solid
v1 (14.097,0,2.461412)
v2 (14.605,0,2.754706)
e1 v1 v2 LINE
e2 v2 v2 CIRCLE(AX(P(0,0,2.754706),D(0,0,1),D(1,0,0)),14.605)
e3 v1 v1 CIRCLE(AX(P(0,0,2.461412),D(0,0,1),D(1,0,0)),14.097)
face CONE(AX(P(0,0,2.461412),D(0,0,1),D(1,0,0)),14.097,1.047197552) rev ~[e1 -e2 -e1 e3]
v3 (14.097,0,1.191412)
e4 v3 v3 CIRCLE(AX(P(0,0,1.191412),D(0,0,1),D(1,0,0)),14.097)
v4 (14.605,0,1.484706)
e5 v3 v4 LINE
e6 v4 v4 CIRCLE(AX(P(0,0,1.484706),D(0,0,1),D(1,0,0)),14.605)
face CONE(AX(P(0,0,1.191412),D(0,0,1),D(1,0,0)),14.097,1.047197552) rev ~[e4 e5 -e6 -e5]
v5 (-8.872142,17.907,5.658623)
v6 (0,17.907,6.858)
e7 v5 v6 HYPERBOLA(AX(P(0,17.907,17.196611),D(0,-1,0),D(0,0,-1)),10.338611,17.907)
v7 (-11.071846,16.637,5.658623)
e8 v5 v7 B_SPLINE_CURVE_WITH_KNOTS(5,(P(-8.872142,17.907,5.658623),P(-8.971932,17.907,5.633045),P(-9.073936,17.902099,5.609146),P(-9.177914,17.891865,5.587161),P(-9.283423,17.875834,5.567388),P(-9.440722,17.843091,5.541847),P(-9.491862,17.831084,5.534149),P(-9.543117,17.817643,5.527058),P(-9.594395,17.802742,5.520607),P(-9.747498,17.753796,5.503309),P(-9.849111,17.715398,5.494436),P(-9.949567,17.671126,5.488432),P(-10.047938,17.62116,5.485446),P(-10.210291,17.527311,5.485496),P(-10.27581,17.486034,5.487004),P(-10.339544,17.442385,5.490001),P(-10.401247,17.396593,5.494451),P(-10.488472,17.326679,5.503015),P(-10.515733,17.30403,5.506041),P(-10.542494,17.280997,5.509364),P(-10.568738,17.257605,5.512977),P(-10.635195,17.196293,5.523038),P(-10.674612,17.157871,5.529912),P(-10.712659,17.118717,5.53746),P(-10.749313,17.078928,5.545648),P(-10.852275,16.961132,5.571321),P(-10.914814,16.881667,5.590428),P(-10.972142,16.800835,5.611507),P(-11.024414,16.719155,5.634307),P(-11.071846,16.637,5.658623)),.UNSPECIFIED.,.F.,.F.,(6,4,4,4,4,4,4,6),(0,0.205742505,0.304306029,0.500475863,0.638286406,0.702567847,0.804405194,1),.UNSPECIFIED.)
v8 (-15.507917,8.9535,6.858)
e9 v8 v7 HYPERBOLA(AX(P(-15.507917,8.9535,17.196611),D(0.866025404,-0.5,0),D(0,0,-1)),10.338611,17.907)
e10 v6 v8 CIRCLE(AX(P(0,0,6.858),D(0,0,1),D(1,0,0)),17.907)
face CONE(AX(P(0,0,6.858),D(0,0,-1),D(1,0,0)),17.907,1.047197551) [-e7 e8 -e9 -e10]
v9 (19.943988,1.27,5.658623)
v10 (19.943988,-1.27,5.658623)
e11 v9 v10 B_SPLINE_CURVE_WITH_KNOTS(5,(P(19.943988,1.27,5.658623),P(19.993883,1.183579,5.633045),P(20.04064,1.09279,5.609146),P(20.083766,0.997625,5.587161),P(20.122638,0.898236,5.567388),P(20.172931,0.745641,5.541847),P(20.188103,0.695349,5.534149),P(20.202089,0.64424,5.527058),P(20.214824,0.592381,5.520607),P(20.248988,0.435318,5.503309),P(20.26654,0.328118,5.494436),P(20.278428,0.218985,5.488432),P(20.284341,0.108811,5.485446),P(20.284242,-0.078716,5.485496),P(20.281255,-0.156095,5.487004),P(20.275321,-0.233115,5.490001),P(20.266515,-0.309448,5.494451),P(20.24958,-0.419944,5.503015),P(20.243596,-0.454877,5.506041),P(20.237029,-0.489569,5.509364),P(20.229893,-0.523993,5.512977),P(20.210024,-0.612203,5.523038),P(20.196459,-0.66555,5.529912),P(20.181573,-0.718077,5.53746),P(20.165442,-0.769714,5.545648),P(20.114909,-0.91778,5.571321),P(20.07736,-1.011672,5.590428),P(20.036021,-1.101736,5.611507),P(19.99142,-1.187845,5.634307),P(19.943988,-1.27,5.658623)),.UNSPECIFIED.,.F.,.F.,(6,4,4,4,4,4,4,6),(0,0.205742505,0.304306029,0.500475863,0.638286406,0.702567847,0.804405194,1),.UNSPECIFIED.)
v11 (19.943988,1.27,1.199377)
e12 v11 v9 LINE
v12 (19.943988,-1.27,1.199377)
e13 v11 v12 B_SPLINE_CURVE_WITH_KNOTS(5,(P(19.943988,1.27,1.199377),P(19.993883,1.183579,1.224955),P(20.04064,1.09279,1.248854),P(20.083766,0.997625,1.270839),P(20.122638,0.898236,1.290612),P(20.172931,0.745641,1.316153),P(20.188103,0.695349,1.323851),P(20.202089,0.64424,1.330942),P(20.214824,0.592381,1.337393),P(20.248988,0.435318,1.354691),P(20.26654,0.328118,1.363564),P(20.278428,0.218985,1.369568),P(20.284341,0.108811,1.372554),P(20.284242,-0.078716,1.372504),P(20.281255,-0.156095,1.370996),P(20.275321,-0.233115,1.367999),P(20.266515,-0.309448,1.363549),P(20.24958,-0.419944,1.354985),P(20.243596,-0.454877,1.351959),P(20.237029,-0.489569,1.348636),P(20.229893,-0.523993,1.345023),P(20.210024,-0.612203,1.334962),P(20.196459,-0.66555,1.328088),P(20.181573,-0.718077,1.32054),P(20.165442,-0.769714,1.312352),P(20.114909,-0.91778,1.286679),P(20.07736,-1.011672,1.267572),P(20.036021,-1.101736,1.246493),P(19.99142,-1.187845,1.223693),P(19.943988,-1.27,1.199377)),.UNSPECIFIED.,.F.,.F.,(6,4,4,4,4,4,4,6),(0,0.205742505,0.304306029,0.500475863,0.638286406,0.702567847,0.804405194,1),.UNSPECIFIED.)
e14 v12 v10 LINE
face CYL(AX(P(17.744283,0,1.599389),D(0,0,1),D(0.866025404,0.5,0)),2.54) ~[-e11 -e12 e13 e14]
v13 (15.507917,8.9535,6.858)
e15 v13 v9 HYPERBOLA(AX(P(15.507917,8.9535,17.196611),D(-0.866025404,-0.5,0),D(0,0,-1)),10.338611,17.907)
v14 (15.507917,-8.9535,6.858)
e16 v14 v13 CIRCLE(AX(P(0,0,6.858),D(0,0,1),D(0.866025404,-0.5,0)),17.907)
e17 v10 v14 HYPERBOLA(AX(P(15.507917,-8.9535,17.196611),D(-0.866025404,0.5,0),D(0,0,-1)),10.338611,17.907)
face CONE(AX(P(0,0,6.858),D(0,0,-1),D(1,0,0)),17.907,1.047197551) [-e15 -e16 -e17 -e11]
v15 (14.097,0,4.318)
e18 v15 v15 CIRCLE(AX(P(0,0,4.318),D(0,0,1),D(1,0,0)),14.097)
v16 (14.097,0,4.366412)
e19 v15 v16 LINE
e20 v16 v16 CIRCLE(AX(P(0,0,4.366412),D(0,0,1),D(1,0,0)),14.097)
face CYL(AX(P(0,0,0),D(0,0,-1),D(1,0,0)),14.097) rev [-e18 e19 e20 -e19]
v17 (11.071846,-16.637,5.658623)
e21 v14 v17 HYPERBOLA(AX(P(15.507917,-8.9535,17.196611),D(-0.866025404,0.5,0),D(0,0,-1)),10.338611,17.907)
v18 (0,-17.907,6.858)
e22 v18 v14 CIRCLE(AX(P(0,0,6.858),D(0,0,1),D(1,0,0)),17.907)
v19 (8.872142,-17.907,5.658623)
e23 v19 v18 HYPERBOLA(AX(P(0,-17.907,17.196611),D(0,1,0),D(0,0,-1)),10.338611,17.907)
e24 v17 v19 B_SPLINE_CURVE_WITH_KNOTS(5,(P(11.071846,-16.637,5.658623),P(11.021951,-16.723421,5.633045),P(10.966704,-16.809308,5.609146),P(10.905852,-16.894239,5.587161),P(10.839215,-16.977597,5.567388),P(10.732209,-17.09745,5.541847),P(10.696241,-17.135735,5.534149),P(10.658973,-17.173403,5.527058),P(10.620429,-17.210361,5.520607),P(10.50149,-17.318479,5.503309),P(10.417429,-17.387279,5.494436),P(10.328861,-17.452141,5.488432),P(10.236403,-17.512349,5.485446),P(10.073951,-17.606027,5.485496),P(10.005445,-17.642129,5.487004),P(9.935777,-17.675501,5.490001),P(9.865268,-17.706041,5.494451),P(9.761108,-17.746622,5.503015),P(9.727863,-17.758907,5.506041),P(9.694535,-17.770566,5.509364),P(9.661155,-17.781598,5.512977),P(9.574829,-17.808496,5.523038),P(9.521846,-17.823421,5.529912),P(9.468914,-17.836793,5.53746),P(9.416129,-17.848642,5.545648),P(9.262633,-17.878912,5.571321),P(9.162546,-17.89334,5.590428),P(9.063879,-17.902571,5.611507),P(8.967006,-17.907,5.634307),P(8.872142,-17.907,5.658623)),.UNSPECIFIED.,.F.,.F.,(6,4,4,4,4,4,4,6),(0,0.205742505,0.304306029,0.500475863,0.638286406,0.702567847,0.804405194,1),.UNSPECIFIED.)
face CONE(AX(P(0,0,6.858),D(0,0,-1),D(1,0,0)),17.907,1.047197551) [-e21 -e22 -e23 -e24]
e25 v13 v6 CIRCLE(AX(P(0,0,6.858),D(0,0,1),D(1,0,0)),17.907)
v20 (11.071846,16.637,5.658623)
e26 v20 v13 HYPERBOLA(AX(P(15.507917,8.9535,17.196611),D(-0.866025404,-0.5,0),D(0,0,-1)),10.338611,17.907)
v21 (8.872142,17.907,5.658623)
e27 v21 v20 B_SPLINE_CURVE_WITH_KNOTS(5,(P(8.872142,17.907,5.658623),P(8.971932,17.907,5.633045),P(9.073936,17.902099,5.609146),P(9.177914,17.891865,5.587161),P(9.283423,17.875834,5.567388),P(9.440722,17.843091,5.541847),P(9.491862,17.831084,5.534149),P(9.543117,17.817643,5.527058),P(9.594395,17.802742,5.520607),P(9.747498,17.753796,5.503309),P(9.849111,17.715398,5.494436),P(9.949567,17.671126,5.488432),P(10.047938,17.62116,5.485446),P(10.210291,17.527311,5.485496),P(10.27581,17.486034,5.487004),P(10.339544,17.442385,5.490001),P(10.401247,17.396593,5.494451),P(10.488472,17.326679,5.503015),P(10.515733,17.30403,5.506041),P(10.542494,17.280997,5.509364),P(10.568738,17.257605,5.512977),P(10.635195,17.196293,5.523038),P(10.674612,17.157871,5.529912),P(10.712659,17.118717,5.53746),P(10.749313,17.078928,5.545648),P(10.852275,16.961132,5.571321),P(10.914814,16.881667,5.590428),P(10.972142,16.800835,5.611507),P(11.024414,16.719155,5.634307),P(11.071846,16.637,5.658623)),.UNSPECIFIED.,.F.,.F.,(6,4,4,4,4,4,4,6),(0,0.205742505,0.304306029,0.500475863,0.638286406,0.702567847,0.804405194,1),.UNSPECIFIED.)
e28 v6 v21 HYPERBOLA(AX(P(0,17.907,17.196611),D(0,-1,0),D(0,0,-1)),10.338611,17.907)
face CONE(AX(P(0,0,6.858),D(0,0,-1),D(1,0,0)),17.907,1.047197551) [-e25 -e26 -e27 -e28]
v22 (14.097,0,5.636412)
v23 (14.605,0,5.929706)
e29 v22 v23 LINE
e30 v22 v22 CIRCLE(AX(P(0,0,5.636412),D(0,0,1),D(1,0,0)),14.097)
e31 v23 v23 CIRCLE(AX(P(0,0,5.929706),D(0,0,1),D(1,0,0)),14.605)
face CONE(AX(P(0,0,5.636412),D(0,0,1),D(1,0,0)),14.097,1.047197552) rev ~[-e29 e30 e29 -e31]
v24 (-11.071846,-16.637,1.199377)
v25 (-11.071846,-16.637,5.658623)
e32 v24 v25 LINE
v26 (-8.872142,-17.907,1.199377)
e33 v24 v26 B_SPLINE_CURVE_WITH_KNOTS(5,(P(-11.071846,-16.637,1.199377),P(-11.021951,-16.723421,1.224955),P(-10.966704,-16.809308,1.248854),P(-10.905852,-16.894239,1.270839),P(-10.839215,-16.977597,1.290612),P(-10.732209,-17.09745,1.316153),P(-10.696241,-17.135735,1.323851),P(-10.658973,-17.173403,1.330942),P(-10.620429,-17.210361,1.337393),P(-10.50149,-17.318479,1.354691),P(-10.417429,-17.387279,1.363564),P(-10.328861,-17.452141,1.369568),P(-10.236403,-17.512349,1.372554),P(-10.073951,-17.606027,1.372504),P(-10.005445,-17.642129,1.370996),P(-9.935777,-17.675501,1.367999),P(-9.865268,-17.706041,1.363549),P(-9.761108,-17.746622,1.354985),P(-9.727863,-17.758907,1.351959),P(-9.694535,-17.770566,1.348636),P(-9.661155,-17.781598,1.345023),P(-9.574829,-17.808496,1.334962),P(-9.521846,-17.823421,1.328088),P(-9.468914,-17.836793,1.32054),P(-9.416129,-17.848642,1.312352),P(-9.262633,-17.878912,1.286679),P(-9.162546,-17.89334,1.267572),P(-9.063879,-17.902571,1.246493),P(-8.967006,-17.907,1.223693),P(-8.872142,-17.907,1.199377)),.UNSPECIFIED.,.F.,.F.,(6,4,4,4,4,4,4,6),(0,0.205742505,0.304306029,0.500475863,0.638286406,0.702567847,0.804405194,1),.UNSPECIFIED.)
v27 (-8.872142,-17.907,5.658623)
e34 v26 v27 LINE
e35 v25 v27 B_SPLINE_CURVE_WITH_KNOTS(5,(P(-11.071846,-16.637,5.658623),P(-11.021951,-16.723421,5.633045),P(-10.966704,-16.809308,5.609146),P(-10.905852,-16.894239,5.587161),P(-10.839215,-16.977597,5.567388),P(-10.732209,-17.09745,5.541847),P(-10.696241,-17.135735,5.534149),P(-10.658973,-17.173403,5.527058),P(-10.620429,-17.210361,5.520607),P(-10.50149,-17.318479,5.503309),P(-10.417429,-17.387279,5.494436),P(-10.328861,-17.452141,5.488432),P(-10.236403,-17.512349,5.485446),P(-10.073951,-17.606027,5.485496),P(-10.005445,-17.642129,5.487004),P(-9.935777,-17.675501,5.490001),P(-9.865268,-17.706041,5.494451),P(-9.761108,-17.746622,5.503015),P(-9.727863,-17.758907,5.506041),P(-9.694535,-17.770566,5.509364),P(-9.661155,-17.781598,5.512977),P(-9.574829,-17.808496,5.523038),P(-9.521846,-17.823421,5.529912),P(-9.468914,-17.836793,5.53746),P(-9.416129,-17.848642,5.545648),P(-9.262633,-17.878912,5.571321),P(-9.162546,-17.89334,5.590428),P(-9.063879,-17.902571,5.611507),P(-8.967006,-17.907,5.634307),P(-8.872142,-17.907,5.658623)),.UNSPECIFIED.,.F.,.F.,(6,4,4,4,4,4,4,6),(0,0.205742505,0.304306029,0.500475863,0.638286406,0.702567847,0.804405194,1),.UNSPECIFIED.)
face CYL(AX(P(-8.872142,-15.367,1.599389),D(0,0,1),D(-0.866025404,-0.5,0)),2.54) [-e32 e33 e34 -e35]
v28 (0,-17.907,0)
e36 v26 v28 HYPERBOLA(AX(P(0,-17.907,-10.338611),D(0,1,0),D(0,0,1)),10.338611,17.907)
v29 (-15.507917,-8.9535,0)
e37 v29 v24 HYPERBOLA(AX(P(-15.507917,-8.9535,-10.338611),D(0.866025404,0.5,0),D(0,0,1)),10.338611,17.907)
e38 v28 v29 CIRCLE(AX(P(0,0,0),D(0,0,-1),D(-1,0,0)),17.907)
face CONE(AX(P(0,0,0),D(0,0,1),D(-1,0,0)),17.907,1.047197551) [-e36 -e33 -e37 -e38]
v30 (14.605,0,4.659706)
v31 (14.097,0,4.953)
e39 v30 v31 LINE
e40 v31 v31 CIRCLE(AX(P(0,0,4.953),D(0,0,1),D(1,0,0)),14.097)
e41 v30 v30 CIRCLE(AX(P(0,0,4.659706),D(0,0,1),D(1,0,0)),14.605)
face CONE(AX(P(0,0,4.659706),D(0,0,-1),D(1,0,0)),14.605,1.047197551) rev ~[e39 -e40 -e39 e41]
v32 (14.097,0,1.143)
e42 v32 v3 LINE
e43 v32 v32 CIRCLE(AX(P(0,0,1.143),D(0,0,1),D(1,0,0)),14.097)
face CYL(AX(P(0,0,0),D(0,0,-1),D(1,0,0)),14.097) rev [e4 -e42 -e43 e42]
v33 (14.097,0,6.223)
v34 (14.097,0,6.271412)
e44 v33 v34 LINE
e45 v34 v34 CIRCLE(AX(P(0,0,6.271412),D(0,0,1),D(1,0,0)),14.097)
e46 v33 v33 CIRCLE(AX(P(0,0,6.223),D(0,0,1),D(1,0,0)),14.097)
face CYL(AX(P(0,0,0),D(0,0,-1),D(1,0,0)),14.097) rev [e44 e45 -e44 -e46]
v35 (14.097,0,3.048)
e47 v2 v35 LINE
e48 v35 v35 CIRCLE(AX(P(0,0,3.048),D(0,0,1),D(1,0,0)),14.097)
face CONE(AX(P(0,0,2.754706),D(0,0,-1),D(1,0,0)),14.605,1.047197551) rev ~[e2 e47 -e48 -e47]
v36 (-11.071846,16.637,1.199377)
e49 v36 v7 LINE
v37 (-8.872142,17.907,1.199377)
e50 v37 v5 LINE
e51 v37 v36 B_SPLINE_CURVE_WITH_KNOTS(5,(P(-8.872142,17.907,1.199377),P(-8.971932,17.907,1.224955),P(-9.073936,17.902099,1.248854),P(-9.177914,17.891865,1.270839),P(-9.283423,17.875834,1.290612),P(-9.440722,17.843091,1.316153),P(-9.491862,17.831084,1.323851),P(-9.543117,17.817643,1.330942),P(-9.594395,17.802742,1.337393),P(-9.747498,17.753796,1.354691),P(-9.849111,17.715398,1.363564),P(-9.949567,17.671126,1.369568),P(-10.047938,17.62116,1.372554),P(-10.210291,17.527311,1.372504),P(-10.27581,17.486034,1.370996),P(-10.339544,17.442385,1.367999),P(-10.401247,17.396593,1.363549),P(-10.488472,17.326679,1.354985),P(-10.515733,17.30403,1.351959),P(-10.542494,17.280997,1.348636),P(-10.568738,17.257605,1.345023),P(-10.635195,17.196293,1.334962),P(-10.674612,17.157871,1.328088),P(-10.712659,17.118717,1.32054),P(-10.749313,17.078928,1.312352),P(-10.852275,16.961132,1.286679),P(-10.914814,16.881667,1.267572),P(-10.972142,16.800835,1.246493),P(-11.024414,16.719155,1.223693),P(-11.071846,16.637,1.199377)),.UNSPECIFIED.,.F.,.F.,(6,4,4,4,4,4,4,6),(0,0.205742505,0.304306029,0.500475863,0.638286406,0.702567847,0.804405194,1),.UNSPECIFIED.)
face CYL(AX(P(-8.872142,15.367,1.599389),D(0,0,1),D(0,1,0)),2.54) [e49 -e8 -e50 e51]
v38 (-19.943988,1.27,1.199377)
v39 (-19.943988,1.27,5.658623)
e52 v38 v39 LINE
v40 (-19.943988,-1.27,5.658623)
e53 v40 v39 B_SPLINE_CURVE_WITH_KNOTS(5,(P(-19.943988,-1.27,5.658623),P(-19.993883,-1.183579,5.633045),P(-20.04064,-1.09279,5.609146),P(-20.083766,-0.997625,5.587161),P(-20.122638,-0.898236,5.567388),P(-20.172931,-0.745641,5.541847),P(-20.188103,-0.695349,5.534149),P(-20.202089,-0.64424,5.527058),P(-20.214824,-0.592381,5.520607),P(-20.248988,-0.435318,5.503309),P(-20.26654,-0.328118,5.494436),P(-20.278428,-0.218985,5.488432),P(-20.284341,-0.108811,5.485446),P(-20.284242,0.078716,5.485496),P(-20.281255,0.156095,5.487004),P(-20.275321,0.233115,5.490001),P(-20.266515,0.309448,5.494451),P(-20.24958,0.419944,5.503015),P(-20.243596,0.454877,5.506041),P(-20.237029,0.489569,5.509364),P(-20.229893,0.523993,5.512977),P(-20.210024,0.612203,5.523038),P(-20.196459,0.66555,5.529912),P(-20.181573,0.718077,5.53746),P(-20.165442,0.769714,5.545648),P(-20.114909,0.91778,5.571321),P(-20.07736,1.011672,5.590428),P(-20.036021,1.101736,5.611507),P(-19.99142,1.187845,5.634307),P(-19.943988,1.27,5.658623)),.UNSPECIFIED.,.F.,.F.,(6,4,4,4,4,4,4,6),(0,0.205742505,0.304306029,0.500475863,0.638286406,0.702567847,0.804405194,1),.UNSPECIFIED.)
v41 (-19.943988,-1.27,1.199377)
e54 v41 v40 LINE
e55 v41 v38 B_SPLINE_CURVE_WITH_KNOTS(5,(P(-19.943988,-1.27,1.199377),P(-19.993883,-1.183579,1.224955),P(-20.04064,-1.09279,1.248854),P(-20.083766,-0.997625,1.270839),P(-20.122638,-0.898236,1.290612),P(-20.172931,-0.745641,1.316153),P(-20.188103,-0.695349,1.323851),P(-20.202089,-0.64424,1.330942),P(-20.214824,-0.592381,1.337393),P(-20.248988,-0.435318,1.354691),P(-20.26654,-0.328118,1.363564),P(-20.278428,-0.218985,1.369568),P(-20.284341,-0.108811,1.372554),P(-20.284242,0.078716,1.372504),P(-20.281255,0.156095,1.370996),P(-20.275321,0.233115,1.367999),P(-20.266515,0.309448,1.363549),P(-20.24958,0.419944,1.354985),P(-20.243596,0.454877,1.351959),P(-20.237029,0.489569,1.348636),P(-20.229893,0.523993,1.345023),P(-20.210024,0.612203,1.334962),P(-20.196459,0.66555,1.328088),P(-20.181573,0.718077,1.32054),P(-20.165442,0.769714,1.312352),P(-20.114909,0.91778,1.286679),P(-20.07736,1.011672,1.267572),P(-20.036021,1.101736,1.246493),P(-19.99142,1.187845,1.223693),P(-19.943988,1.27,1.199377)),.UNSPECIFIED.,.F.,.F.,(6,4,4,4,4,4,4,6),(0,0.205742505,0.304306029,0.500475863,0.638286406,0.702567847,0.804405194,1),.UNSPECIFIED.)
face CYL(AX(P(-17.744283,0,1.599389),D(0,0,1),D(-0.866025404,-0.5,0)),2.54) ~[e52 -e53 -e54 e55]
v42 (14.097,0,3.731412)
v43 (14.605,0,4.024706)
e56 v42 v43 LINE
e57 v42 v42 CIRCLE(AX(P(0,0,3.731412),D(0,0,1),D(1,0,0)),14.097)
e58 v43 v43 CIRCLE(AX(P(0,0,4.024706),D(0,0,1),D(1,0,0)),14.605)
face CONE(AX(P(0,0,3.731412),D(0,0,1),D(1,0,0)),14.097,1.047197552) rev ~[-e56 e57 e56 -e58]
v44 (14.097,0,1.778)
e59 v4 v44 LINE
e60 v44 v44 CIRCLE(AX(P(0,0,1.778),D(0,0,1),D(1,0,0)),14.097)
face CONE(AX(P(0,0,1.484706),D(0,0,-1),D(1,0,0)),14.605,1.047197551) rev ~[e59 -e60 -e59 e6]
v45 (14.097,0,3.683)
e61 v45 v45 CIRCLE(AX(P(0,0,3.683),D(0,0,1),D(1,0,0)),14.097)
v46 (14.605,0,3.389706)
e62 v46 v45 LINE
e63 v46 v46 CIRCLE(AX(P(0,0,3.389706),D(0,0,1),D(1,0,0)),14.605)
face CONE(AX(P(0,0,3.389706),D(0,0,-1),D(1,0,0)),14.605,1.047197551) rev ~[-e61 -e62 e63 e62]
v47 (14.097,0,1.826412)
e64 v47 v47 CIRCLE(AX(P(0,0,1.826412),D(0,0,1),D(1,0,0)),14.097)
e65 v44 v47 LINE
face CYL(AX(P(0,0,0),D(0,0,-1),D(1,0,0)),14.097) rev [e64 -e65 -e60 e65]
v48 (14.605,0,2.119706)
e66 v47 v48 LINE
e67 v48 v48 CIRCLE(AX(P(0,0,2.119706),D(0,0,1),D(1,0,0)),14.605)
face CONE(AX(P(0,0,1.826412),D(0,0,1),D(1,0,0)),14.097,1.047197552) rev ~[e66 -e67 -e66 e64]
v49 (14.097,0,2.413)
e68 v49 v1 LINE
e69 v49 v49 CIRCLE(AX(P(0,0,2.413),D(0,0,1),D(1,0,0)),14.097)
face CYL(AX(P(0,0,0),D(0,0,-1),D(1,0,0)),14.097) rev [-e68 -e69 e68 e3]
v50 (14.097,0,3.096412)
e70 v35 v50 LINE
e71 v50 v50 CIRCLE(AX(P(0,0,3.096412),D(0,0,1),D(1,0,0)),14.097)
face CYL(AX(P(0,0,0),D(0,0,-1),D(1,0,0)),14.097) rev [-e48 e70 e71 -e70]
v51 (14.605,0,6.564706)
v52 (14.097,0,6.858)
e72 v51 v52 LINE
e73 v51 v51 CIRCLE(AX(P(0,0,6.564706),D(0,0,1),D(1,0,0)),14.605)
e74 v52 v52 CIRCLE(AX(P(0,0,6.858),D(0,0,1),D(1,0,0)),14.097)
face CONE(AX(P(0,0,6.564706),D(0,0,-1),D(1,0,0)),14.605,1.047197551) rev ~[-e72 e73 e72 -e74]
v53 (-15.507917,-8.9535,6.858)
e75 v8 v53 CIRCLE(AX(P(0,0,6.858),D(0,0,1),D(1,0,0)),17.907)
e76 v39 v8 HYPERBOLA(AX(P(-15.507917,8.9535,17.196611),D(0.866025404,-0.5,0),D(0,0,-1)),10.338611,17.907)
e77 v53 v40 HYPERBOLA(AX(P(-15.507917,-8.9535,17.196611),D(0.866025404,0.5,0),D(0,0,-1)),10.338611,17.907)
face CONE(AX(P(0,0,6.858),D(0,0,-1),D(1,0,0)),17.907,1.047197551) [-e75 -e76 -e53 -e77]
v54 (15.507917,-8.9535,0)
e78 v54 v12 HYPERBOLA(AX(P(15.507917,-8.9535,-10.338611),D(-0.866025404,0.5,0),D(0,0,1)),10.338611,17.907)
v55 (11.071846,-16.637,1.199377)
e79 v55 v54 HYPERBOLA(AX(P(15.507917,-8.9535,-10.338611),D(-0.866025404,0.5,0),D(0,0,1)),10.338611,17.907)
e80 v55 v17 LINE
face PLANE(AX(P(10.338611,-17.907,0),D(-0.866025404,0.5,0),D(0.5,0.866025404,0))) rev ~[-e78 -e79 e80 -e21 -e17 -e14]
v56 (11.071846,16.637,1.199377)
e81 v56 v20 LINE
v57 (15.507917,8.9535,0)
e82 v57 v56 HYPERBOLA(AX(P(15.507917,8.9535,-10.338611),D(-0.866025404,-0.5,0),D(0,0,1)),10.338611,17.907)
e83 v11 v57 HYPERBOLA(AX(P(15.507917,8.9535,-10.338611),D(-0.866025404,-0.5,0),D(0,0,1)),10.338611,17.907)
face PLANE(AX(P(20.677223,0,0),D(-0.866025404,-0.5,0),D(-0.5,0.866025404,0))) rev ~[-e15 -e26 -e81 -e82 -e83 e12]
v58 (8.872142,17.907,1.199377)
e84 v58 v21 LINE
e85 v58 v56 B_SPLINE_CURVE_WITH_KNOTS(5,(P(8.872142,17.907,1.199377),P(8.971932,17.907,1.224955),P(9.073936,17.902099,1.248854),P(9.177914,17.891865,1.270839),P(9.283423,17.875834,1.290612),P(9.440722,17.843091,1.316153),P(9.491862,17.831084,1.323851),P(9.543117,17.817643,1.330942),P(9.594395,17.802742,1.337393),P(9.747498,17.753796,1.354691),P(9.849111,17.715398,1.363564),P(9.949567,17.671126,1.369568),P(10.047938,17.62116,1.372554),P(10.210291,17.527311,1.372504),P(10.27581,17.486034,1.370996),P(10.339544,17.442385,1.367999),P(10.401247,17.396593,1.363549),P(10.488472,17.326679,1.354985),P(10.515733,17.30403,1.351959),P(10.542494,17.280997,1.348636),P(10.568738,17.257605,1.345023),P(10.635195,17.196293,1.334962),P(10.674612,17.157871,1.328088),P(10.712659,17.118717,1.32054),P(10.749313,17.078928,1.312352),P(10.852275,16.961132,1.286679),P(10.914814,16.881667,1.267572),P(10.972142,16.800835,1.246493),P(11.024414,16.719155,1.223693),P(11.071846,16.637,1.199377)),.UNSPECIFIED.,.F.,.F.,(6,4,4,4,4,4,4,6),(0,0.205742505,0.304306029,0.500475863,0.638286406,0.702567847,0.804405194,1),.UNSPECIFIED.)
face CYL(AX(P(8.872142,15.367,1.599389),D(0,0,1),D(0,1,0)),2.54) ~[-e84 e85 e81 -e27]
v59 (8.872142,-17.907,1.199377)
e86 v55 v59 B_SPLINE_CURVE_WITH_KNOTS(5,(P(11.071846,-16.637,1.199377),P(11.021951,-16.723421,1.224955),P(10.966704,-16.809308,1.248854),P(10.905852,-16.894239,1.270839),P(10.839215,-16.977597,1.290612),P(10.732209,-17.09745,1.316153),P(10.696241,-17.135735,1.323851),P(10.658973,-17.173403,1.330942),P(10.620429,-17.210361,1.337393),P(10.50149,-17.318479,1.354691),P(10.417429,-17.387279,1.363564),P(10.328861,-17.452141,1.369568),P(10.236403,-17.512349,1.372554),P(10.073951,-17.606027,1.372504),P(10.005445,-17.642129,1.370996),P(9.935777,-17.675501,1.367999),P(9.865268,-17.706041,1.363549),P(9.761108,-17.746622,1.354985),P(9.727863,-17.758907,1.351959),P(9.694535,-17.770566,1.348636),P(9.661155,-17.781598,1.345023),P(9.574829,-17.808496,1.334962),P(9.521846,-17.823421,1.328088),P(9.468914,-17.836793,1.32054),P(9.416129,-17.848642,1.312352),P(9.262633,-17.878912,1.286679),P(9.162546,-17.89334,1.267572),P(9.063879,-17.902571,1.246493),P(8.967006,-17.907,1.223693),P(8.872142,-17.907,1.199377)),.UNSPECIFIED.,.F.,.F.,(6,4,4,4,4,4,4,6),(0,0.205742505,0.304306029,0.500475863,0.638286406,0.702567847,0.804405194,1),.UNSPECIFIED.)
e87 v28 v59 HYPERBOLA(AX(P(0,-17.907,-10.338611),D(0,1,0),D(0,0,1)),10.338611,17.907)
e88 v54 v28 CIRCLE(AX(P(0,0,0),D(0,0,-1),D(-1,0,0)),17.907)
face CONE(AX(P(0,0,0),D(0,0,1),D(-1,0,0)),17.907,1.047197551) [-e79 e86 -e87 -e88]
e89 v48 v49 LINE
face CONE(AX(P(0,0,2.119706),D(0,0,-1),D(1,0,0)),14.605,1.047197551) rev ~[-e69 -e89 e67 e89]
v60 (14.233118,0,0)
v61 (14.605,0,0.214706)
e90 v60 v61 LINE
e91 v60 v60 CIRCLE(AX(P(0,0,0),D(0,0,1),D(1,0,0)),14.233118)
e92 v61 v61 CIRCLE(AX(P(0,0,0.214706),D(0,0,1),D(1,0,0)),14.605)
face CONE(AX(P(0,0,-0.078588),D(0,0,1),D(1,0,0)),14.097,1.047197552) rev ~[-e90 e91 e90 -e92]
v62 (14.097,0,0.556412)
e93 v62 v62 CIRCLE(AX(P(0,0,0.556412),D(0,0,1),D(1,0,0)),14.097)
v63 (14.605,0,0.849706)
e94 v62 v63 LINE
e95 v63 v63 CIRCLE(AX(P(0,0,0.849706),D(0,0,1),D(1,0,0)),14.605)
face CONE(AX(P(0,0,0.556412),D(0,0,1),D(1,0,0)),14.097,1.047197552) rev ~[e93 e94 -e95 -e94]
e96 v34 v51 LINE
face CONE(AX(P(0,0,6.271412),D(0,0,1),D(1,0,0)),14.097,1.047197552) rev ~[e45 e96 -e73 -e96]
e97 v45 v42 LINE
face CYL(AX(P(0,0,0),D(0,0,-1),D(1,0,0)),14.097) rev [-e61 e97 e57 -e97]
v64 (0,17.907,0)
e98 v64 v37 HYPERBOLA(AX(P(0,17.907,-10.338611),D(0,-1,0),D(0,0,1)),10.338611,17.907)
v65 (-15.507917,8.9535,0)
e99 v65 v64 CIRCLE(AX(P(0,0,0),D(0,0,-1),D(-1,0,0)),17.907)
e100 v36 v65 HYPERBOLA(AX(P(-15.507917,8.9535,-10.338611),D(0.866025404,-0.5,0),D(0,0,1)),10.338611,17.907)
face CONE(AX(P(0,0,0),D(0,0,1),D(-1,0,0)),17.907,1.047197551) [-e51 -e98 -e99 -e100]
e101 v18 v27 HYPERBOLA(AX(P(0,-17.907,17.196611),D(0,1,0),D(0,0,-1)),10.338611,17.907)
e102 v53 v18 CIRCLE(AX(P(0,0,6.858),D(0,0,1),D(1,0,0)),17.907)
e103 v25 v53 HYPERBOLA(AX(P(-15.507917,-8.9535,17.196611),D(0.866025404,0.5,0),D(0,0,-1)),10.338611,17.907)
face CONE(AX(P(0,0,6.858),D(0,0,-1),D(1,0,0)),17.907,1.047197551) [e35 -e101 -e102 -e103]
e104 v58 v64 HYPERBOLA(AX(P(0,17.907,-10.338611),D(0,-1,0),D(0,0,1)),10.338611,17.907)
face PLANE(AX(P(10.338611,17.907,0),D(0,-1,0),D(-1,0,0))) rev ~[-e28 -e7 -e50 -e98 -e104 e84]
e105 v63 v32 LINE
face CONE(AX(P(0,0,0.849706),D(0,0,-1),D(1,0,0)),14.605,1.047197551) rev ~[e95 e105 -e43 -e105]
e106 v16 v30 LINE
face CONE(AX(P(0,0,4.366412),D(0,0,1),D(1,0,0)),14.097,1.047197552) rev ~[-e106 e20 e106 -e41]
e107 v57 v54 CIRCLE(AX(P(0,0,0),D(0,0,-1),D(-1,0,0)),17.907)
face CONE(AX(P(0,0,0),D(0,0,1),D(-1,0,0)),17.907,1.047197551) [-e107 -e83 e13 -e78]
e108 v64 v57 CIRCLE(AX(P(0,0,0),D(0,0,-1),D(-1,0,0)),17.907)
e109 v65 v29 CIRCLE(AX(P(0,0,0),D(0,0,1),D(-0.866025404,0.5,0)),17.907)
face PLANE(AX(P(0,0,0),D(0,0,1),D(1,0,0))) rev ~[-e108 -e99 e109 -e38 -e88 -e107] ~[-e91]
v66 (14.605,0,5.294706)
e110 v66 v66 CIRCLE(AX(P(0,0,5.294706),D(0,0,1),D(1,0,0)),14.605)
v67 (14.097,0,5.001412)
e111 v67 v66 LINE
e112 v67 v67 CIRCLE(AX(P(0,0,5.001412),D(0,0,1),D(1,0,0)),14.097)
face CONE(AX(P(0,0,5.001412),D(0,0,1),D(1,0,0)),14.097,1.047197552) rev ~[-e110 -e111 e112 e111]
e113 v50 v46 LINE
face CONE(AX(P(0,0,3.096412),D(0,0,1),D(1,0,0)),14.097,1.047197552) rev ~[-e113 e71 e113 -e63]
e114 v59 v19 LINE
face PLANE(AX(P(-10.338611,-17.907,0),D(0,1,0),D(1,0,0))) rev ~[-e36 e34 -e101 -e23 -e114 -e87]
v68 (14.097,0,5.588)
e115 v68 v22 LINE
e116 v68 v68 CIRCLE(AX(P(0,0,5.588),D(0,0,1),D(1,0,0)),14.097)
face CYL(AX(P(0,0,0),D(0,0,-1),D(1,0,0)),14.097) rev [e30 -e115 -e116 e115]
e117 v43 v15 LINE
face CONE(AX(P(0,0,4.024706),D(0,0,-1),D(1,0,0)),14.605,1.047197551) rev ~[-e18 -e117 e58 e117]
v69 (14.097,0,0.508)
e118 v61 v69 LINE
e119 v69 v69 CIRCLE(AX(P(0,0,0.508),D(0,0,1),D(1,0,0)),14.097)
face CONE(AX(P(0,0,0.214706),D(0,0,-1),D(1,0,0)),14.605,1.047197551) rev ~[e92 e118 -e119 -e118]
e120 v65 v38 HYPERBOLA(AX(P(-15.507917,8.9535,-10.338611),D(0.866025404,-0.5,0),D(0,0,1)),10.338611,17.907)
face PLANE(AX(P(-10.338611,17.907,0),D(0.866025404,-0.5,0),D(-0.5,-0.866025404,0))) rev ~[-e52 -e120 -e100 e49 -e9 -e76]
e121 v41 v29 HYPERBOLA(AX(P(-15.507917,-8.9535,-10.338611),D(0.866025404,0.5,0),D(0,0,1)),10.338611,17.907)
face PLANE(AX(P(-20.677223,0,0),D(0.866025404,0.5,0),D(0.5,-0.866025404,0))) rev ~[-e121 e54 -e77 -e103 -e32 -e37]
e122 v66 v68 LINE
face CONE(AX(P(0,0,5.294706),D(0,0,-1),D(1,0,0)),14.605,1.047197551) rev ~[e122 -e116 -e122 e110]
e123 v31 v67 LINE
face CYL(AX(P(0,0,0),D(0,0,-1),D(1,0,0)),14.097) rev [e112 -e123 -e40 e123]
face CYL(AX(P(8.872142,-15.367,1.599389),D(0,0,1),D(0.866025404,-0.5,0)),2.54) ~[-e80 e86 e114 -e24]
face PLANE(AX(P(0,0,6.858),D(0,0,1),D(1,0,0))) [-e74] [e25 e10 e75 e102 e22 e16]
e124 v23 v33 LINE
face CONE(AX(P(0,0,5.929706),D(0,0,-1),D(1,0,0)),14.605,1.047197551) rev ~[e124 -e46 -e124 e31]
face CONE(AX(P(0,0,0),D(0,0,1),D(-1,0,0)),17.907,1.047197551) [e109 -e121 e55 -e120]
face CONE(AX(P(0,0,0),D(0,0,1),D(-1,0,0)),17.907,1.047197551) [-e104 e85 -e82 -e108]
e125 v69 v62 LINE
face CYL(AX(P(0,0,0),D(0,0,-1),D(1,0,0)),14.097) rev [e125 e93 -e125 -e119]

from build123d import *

# Parameters (mm, degrees)
SKETCH1_R          = 14.097
EXTRUDE1_DEPTH     = 6.858
SKETCH2_OUTSIDE_W  = 81.602
SKETCH2_OUTSIDE_H  = 76.062
SKETCH2_OUTSIDE_R  = 17.907
CUT_EXTRUDE1_DEPTH = 7.858
CUT_EXTRUDE1_DRAFT = -60
SKETCH3_OUTSIDE_W  = 81.602
SKETCH3_OUTSIDE_H  = 76.062
SKETCH3_OUTSIDE_R  = 17.907
CUT_EXTRUDE2_DEPTH = 7.858
CUT_EXTRUDE2_DRAFT = -60
FILLET1_R          = 2.54
LPATTERN1_COUNT    = 11
LPATTERN1_PITCH    = 0.635


with BuildPart() as part:
    # Sketch1 → Extrude1 (new body)
    with BuildSketch(Plane.XY):
        Polygon((-20.677222541, 0), (-10.33861127, -17.907), (10.33861127, -17.907), (20.677222541, 0), (10.33861127, 17.907), (-10.33861127, 17.907), align=None)
        Circle(SKETCH1_R, mode=Mode.SUBTRACT)
    extrude(amount=EXTRUDE1_DEPTH)


with BuildPart() as cut_extrude1_tool:
    # Sketch2 outside → Cut-Extrude1 (with draft: the straight prism first)
    with BuildSketch(Plane.XY.offset(6.858)):
        Rectangle(SKETCH2_OUTSIDE_W, SKETCH2_OUTSIDE_H)
        Circle(SKETCH2_OUTSIDE_R, mode=Mode.SUBTRACT)
    extrude(amount=-CUT_EXTRUDE1_DEPTH)
    # Cut-Extrude1: the draft: its side faces are tilted about the plane it starts from
    cut_extrude1_sides = [cut_extrude1_tool.faces().sort_by_distance(p)[0] for p in [
        (0, -38.031, 2.929),
        (40.801, 0, 2.929),
        (0, 38.031, 2.929),
        (-40.801, 0, 2.929),
        (-17.907, 0, 2.929),
    ]]
    draft(cut_extrude1_sides, Plane.XY.offset(6.858), CUT_EXTRUDE1_DRAFT)


with BuildPart() as part_1:
    add(part.part)

    # Cut-Extrude1: cut by cut_extrude1_tool
    add(cut_extrude1_tool.part, mode=Mode.SUBTRACT)


with BuildPart() as cut_extrude2_tool:
    # Sketch3 outside → Cut-Extrude2 (with draft: the straight prism first)
    with BuildSketch(Plane(origin=(0, 0, 0), x_dir=(-1, 0, 0), z_dir=(0, 0, -1))):
        Rectangle(SKETCH3_OUTSIDE_W, SKETCH3_OUTSIDE_H)
        Circle(SKETCH3_OUTSIDE_R, mode=Mode.SUBTRACT)
    extrude(amount=-CUT_EXTRUDE2_DEPTH)
    # Cut-Extrude2: the draft: its side faces are tilted about the plane it starts from
    cut_extrude2_sides = [cut_extrude2_tool.faces().sort_by_distance(p)[0] for p in [
        (0, -38.031, 3.929),
        (-40.801, 0, 3.929),
        (0, 38.031, 3.929),
        (40.801, 0, 3.929),
        (17.907, 0, 3.929),
    ]]
    draft(cut_extrude2_sides, Plane(origin=(0, 0, 0), x_dir=(-1, 0, 0), z_dir=(0, 0, -1)), CUT_EXTRUDE2_DRAFT)


with BuildPart() as part_2:
    add(part_1.part)

    # Cut-Extrude2: cut by cut_extrude2_tool
    add(cut_extrude2_tool.part, mode=Mode.SUBTRACT)

    # Fillet1
    fillet1_edges = [part_2.edges().sort_by_distance(p)[0] for p in [
        (20.677222541, 0, 3.429),
        (10.33861127, -17.907, 3.429),
        (-10.33861127, -17.907, 3.429),
        (-20.677222541, 0, 3.429),
        (-10.33861127, 17.907, 3.429),
        (10.33861127, 17.907, 3.429),
    ]]
    fillet(fillet1_edges, radius=FILLET1_R)

    # Sketch4 → Cut-Revolve1 (revolve, cut)
    with BuildSketch(Plane(origin=(0, 0, 0), x_dir=(1, 0, 0), z_dir=(0, 1, 0)), mode=Mode.PRIVATE) as cut_revolve1_sk:
        Polygon((-14.097, -6.858), (-14.097, -6.271412127), (-14.605, -6.564706063), align=None)
    cut_revolve1 = revolve(cut_revolve1_sk.sketch.rotate(Axis((0, 0, 0), (0, 0, 1)), 180), axis=Axis((0, 0, 0), (0, 0, 1)), mode=Mode.SUBTRACT)  # turned: the seam where the file's is

    # LPattern1: Cut-Revolve1 ×11
    with Locations(*[(0, 0, -i * LPATTERN1_PITCH) for i in range(1, LPATTERN1_COUNT)]):
        add(cut_revolve1, mode=Mode.SUBTRACT)


solid = part_2.part
